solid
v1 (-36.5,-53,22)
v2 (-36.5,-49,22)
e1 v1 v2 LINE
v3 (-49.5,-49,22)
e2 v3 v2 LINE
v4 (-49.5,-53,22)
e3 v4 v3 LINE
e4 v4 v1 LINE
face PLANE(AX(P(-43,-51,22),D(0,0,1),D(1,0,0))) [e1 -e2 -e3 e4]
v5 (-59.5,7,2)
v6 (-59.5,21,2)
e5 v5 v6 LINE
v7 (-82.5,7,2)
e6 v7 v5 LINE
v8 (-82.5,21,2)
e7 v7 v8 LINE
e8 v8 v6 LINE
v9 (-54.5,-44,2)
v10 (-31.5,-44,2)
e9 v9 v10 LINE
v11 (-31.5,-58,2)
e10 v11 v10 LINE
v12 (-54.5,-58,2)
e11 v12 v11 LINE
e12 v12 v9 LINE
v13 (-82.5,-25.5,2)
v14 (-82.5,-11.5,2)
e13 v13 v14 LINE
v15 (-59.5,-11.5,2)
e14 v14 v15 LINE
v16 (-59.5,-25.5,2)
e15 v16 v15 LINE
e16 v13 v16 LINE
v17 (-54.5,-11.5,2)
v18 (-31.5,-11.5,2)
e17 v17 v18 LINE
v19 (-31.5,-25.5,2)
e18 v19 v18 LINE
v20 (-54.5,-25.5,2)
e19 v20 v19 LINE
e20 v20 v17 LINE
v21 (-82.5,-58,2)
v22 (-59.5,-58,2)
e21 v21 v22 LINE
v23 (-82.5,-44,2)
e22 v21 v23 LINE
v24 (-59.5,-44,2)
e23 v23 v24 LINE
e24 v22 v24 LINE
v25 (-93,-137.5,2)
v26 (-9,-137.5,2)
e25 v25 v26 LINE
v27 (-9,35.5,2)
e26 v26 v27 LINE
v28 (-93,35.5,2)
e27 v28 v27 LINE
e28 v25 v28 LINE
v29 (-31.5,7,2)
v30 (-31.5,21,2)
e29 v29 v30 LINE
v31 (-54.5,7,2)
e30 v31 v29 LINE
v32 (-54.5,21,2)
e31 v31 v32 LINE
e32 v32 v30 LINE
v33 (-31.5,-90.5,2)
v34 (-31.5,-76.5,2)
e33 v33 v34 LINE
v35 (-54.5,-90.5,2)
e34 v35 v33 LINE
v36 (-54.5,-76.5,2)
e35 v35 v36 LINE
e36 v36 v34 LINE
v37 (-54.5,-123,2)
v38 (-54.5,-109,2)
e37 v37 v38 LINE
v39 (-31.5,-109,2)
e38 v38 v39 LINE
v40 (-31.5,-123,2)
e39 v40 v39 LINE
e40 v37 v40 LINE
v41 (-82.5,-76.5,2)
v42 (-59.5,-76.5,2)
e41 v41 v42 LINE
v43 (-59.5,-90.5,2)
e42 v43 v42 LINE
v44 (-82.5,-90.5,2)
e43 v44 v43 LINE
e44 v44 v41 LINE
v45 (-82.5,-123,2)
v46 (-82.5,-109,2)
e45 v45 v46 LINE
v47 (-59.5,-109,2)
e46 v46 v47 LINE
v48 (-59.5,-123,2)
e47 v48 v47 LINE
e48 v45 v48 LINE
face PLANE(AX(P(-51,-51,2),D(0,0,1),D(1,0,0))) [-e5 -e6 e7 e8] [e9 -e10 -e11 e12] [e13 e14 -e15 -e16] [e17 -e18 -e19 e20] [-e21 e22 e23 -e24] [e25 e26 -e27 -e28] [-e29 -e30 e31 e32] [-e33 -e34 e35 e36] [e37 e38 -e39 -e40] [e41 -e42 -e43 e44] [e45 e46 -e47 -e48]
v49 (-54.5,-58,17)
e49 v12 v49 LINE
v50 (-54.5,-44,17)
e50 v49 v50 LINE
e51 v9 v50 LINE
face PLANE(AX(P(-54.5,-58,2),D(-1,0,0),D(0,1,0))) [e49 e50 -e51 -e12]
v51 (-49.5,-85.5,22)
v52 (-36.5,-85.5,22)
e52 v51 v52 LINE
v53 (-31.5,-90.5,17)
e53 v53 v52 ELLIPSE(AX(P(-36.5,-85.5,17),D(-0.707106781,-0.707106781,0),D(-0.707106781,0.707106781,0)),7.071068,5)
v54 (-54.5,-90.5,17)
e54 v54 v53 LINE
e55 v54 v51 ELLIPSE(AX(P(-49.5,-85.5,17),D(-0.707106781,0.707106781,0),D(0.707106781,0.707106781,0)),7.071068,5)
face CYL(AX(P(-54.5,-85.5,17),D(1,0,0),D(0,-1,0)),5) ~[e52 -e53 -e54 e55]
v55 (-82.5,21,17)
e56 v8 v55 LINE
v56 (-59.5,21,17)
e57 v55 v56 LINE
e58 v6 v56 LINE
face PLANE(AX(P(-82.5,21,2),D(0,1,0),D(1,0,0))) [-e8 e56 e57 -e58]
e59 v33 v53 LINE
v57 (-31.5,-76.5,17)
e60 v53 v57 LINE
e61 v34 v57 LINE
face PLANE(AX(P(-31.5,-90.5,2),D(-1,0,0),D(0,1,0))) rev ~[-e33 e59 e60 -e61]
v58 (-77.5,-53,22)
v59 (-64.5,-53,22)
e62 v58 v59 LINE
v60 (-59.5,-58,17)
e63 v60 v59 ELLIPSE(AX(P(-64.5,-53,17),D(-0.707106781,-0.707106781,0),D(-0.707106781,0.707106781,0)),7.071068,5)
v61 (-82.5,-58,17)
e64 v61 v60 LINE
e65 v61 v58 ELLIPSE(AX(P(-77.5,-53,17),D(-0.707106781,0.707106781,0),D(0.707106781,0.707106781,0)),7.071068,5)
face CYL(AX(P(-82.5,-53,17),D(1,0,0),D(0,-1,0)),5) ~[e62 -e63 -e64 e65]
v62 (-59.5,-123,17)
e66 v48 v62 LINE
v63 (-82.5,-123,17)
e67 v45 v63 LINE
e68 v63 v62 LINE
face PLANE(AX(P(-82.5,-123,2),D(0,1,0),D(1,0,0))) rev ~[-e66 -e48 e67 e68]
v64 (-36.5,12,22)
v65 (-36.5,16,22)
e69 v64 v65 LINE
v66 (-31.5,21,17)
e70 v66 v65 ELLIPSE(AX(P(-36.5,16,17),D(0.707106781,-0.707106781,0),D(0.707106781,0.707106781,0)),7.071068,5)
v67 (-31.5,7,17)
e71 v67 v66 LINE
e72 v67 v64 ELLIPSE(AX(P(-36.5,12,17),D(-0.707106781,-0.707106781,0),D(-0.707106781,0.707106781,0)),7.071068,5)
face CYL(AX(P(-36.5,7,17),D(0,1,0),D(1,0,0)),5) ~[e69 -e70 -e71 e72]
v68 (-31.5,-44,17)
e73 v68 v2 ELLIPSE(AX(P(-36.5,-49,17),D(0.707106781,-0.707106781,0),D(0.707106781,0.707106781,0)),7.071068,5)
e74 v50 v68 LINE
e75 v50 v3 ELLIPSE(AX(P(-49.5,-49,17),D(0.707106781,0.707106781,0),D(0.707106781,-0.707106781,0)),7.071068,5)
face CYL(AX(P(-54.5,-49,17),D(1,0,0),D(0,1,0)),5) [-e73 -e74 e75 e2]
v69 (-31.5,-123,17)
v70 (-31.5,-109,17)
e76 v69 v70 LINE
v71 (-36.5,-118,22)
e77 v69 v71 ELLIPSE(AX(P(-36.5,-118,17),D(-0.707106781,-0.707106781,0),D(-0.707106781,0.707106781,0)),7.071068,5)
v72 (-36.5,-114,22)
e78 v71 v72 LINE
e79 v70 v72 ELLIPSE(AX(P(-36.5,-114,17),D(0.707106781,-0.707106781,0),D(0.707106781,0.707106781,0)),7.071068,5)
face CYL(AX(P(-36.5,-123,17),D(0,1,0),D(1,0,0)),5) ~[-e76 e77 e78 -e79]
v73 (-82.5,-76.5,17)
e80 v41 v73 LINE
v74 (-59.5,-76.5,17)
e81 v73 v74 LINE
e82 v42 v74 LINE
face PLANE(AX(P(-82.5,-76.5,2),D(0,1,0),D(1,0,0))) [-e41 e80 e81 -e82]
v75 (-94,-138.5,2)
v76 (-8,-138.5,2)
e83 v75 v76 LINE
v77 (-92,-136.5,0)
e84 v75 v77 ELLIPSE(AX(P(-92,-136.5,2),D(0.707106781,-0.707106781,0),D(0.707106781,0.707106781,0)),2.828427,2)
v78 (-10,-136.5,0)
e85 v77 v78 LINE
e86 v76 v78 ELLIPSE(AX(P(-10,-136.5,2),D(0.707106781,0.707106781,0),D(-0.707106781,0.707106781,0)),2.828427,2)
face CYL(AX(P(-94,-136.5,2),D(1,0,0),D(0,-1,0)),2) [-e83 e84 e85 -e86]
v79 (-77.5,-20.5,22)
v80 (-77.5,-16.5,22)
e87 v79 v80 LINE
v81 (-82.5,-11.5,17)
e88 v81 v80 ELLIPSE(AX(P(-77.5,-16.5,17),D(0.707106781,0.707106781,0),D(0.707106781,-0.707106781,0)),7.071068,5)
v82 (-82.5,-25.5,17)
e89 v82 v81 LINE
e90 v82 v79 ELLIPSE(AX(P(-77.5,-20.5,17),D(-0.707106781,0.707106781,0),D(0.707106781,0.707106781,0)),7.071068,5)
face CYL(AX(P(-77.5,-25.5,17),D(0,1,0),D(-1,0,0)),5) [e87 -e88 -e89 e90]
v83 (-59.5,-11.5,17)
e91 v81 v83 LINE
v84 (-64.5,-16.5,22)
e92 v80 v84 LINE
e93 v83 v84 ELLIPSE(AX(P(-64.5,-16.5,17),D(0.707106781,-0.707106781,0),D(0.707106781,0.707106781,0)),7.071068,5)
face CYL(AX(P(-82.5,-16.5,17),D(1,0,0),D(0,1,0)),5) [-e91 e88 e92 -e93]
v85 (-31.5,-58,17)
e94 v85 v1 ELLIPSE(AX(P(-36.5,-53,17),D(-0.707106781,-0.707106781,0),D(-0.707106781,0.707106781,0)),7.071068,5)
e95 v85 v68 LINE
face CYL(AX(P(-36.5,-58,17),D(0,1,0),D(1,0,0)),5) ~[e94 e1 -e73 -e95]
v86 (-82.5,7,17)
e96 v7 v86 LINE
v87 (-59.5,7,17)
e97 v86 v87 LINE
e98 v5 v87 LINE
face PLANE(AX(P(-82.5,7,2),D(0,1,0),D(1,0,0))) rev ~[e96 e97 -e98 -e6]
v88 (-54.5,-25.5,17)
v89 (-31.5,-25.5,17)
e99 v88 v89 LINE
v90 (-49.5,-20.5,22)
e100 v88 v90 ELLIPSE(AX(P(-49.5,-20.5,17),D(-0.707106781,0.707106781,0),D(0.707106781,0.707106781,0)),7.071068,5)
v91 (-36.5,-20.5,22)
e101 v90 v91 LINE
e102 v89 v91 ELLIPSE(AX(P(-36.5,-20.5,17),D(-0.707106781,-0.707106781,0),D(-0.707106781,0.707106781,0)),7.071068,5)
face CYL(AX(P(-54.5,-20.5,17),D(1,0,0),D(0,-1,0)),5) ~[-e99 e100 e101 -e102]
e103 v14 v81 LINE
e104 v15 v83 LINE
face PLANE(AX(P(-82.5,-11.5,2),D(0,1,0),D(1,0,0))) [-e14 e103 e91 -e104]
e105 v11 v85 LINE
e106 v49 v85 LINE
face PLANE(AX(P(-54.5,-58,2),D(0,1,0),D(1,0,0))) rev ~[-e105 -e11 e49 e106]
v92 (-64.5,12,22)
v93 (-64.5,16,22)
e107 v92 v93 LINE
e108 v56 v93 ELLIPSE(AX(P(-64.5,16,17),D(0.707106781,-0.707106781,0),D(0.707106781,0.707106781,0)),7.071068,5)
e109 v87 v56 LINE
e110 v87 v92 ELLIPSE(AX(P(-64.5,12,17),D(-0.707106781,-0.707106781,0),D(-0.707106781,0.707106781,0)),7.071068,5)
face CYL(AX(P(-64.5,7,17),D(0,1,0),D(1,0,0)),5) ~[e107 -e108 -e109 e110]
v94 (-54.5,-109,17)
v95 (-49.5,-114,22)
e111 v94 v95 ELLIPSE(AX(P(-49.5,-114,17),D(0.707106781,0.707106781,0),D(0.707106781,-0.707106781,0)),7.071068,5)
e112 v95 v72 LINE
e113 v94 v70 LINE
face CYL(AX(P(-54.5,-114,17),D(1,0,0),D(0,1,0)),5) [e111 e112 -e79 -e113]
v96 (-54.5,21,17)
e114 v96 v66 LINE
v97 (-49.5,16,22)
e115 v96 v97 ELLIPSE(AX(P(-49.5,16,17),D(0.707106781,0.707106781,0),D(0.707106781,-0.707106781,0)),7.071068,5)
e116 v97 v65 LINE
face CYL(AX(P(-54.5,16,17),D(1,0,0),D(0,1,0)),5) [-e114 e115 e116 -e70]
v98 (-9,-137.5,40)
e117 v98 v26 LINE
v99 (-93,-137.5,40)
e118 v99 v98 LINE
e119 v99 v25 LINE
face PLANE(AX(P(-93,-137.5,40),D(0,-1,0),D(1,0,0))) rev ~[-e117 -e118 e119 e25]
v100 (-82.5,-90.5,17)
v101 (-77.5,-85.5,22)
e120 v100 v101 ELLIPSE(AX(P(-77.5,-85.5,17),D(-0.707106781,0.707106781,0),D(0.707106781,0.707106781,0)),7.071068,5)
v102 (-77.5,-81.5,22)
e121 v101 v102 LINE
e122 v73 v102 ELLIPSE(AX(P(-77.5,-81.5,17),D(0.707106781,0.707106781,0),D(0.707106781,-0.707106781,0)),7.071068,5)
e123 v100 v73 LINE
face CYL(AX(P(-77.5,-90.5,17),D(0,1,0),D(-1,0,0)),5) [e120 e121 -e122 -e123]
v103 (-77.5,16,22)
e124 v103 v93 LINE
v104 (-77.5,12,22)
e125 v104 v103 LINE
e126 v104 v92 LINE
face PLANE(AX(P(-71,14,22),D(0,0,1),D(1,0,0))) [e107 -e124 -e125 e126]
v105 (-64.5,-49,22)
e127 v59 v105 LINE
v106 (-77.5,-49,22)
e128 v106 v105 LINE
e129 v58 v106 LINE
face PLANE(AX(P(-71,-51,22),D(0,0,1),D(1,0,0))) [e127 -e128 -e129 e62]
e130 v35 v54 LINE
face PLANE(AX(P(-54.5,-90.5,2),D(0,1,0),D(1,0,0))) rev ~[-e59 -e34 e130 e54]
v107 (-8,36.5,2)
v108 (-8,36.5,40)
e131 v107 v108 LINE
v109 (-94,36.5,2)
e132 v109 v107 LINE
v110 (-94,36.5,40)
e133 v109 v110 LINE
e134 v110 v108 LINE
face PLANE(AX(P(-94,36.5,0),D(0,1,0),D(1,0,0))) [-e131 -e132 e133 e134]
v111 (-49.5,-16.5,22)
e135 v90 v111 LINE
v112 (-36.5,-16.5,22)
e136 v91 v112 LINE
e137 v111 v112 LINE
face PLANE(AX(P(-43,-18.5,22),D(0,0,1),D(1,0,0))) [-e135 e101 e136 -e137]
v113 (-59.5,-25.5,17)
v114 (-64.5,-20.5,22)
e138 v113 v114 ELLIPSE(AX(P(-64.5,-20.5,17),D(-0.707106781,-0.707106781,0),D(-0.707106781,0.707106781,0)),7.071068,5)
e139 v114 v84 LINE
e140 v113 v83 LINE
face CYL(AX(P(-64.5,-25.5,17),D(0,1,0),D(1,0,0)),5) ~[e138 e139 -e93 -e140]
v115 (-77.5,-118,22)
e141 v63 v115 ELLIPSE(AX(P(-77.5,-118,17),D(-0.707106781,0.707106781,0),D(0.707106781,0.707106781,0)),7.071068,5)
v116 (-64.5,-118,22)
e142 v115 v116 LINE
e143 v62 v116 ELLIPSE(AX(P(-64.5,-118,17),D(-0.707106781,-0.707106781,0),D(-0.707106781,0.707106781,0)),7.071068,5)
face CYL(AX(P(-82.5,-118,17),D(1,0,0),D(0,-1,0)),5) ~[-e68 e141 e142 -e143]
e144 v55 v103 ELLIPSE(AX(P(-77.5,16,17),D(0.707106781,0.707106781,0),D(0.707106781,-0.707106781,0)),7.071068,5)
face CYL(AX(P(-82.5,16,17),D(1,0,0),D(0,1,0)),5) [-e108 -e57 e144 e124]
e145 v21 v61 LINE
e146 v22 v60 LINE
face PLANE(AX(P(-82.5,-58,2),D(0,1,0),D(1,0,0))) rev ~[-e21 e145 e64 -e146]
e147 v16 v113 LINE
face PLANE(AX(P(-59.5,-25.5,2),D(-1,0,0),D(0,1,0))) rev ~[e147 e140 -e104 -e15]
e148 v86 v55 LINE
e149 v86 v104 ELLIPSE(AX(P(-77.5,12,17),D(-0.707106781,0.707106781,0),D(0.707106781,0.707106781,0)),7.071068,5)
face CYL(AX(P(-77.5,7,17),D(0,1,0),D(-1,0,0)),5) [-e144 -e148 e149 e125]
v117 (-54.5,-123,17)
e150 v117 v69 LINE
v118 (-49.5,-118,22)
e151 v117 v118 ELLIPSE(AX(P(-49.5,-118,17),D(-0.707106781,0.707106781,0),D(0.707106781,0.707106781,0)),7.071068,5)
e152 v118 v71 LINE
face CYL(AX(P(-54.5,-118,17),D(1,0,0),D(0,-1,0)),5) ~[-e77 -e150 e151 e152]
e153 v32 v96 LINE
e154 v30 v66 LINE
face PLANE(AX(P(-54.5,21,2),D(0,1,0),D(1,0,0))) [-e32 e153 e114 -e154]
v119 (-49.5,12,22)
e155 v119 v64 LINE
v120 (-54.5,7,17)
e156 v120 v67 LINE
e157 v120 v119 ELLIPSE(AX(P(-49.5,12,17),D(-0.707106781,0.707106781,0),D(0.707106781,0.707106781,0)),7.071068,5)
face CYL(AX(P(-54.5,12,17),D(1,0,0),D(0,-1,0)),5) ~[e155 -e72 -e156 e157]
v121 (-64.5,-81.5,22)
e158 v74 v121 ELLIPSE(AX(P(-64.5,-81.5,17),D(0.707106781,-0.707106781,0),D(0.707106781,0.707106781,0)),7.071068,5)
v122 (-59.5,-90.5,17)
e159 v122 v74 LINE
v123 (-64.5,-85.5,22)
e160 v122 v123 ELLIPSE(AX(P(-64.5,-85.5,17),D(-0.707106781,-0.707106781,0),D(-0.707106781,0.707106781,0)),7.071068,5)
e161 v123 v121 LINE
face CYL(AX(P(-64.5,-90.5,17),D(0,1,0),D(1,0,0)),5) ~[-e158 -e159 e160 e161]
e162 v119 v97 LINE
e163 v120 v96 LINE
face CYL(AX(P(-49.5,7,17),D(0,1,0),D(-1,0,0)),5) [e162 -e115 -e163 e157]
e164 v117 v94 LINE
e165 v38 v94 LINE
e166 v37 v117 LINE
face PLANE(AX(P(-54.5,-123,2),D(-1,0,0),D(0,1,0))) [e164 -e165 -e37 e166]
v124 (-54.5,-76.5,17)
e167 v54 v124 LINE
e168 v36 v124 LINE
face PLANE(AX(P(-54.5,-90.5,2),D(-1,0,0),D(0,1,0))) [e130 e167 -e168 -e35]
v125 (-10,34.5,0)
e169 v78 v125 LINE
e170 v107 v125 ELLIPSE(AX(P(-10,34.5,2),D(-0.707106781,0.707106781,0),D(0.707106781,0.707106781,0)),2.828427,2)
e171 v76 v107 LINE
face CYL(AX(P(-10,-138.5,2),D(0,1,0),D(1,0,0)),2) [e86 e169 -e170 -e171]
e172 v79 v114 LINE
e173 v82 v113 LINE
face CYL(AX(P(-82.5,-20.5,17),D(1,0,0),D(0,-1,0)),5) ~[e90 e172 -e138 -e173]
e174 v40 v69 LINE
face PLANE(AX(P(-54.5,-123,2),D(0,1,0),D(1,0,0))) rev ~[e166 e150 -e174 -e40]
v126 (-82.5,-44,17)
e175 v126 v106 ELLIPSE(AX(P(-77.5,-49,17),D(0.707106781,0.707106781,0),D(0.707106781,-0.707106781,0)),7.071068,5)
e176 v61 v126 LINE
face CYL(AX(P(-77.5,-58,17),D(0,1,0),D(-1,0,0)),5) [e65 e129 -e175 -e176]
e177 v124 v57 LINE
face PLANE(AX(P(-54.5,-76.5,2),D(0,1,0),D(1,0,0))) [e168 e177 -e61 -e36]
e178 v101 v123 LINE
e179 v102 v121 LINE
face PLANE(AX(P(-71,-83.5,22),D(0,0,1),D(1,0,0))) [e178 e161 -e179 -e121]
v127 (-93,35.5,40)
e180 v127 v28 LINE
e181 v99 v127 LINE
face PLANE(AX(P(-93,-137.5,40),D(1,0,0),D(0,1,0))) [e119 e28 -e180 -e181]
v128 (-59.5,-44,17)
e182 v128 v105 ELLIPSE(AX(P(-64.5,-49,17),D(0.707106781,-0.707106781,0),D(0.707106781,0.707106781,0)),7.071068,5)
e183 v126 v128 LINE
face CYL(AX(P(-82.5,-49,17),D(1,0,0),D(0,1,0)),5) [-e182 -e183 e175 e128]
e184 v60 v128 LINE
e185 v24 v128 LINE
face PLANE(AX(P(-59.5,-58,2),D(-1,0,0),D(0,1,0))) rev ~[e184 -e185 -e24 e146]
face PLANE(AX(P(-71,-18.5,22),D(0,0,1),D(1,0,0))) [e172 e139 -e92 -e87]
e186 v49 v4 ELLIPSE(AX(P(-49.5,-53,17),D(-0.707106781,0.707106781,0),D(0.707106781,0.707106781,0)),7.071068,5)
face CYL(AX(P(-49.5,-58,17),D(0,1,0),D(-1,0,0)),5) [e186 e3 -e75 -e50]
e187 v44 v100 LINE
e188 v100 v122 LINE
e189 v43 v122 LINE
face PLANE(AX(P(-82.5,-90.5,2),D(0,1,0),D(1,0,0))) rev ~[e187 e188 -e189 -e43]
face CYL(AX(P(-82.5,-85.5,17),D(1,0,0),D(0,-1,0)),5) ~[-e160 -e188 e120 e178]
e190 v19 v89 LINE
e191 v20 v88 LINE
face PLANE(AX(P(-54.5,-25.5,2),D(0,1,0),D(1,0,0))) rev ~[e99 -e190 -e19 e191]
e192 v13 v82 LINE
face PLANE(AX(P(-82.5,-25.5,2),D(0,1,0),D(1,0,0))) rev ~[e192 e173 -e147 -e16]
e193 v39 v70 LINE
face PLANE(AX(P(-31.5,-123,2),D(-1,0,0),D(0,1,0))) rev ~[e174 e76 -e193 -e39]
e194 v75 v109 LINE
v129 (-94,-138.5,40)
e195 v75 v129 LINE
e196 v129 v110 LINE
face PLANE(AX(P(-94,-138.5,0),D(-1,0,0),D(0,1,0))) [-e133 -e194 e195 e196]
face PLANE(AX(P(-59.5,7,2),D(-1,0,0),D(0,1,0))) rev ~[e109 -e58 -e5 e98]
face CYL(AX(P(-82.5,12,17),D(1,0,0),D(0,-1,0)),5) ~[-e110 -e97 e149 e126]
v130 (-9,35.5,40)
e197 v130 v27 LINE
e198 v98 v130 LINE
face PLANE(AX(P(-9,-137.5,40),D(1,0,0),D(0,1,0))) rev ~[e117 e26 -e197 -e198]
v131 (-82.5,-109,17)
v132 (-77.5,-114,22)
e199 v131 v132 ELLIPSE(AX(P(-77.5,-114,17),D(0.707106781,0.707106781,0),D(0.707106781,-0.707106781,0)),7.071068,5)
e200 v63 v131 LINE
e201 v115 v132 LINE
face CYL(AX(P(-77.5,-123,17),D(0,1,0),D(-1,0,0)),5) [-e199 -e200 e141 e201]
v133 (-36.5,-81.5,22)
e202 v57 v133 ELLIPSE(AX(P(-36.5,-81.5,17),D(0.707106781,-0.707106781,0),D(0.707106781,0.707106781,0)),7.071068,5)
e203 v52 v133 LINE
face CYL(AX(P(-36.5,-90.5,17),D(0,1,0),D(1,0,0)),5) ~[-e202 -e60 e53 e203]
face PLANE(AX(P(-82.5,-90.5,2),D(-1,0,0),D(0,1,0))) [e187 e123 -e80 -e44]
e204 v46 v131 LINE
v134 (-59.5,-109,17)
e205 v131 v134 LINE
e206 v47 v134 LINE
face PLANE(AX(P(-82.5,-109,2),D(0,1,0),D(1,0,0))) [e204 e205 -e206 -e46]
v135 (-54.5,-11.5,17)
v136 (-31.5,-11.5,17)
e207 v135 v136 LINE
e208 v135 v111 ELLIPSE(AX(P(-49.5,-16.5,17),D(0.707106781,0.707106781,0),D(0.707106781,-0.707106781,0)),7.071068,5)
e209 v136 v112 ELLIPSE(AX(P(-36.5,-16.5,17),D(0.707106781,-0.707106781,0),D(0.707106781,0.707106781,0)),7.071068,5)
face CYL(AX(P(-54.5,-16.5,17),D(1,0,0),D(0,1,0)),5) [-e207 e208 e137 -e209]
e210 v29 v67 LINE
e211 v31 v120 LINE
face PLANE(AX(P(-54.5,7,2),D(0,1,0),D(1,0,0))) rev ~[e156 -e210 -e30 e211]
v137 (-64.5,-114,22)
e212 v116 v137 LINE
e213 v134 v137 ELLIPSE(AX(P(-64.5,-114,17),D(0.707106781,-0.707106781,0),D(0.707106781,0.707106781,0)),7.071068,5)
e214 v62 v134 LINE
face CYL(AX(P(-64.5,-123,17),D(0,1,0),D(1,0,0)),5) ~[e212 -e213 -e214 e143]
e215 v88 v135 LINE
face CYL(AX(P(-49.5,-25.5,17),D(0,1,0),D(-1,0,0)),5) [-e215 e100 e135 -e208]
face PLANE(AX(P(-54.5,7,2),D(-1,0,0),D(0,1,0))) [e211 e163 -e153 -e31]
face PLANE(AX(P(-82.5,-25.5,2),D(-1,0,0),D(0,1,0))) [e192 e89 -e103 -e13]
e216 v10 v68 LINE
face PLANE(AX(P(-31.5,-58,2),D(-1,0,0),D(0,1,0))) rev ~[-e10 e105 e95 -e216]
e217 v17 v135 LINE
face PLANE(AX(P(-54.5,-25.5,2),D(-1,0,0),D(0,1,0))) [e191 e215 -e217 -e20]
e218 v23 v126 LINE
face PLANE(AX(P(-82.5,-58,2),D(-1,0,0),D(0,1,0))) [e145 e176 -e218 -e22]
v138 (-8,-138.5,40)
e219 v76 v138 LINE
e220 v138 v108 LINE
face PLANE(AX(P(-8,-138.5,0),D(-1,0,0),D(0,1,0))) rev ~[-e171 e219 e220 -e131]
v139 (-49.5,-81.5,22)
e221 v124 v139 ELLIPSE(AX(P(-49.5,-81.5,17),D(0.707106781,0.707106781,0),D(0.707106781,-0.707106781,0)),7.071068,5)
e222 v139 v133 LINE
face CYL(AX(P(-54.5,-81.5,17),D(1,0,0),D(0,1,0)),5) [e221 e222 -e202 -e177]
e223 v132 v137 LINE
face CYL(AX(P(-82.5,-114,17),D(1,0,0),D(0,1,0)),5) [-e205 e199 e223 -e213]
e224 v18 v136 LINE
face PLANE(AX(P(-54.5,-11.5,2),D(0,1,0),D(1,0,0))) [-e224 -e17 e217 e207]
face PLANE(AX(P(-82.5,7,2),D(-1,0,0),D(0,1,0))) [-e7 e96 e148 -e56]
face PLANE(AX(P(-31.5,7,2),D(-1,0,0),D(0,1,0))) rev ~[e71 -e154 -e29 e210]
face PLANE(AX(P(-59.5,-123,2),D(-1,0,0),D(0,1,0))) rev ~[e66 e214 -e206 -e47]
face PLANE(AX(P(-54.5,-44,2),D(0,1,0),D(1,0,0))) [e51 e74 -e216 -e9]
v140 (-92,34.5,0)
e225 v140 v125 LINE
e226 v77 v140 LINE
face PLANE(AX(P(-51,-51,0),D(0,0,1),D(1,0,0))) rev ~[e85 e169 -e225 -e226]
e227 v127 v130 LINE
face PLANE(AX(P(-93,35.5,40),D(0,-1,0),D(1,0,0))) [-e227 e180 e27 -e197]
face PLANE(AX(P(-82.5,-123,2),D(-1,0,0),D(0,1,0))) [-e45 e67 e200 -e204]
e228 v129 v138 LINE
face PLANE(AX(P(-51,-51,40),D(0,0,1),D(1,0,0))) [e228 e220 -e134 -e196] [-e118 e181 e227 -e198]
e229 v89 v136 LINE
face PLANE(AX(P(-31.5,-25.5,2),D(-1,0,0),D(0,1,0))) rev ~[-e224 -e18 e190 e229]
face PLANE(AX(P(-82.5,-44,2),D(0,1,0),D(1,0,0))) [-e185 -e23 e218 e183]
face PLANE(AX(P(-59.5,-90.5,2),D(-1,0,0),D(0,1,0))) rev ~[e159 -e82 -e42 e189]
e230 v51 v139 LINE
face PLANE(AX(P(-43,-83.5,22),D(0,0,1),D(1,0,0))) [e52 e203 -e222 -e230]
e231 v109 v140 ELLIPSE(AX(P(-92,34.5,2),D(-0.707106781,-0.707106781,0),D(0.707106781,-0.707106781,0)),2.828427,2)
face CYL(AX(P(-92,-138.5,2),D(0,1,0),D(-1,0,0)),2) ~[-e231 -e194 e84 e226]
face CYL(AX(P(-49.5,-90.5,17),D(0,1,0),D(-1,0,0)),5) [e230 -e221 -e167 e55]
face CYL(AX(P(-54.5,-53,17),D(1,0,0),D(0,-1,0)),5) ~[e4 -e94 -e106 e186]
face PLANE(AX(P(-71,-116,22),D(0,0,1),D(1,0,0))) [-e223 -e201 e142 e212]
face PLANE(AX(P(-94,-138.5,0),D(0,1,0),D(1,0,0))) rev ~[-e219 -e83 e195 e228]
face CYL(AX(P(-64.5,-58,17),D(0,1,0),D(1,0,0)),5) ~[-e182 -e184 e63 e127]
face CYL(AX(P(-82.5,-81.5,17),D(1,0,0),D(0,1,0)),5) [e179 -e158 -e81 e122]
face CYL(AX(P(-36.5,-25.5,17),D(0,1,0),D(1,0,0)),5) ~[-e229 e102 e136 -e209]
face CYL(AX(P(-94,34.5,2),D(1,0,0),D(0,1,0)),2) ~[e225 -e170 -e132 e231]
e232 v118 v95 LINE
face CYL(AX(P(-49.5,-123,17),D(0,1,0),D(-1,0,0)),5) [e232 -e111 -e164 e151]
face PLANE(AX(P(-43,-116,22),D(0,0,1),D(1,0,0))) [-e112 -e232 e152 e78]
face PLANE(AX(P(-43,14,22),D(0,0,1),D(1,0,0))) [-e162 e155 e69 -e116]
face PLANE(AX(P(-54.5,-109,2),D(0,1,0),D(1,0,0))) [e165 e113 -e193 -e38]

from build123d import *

# Parameters (mm, degrees)
SKETCH015_W                     = 86
SKETCH015_H                     = 175
PAD007_DEPTH                    = 40
SKETCH016_W                     = 84
SKETCH016_H                     = 173
POCKET007_DEPTH                 = 38
SKETCH017_W                     = 23
SKETCH017_H                     = 14
PAD008_DEPTH                    = 20
SKETCH017_LINEARPATTERN003_2_W  = 23
SKETCH017_LINEARPATTERN003_2_H  = 14
PAD008_LINEARPATTERN003_2_DEPTH = 20
SKETCH017_LINEARPATTERN003_3_W  = 23
SKETCH017_LINEARPATTERN003_3_H  = 14
PAD008_LINEARPATTERN003_3_DEPTH = 20
SKETCH017_LINEARPATTERN003_4_W  = 23
SKETCH017_LINEARPATTERN003_4_H  = 14
PAD008_LINEARPATTERN003_4_DEPTH = 20
SKETCH017_LINEARPATTERN003_5_W  = 23
SKETCH017_LINEARPATTERN003_5_H  = 14
PAD008_LINEARPATTERN003_5_DEPTH = 20
LINEARPATTERN004_COUNT          = 2
LINEARPATTERN004_PITCH          = 28
FILLET008_R                     = 5
FILLET009_R                     = 2


with BuildPart() as part:
    # Sketch015 → Pad007 (new body)
    with BuildSketch(Plane.XY):
        Rectangle(SKETCH015_W, SKETCH015_H)
    extrude(amount=PAD007_DEPTH)

    # Sketch016 (on DatumPlane) → Pocket007 (cut)
    with BuildSketch(Plane.XY.offset(40)):
        Rectangle(SKETCH016_W, SKETCH016_H)
    extrude(amount=-POCKET007_DEPTH, mode=Mode.SUBTRACT)

    # Sketch017 (on DatumPlane) → Pad008 (join)
    with BuildSketch(Plane(origin=(-20, 65, 2), x_dir=(1, 0, 0), z_dir=(0, 0, 1))):
        Rectangle(SKETCH017_W, SKETCH017_H)
    pad008 = extrude(amount=PAD008_DEPTH)

    # Sketch017 LinearPattern003 2 → Pad008 LinearPattern003 2 (add)
    with BuildSketch(Plane(origin=(-20, 32.5, 2), x_dir=(1, 0, 0), z_dir=(0, 0, 1))):
        Rectangle(SKETCH017_LINEARPATTERN003_2_W, SKETCH017_LINEARPATTERN003_2_H)
    pad008_linearpattern003_2 = extrude(amount=PAD008_LINEARPATTERN003_2_DEPTH)

    # Sketch017 LinearPattern003 3 → Pad008 LinearPattern003 3 (add)
    with BuildSketch(Plane(origin=(-20, 0, 2), x_dir=(1, 0, 0), z_dir=(0, 0, 1))):
        Rectangle(SKETCH017_LINEARPATTERN003_3_W, SKETCH017_LINEARPATTERN003_3_H)
    pad008_linearpattern003_3 = extrude(amount=PAD008_LINEARPATTERN003_3_DEPTH)

    # Sketch017 LinearPattern003 4 → Pad008 LinearPattern003 4 (add)
    with BuildSketch(Plane(origin=(-20, -32.5, 2), x_dir=(1, 0, 0), z_dir=(0, 0, 1))):
        Rectangle(SKETCH017_LINEARPATTERN003_4_W, SKETCH017_LINEARPATTERN003_4_H)
    pad008_linearpattern003_4 = extrude(amount=PAD008_LINEARPATTERN003_4_DEPTH)

    # Sketch017 LinearPattern003 5 → Pad008 LinearPattern003 5 (add)
    with BuildSketch(Plane(origin=(-20, -65, 2), x_dir=(1, 0, 0), z_dir=(0, 0, 1))):
        Rectangle(SKETCH017_LINEARPATTERN003_5_W, SKETCH017_LINEARPATTERN003_5_H)
    pad008_linearpattern003_5 = extrude(amount=PAD008_LINEARPATTERN003_5_DEPTH)

    # LinearPattern004: Pad008, Pad008 LinearPattern003 2, Pad008 LinearPattern003 3, Pad008 LinearPattern003 4, Pad008 LinearPattern003 5 ×2
    with Locations(*[(i * LINEARPATTERN004_PITCH, 0, 0) for i in range(1, LINEARPATTERN004_COUNT)]):
        add(pad008)
        add(pad008_linearpattern003_2)
        add(pad008_linearpattern003_3)
        add(pad008_linearpattern003_4)
        add(pad008_linearpattern003_5)

    # Fillet008
    fillet008_edges = [part.edges().sort_by_distance(p)[0] for p in [
        (-20, -25.5, 22),
        (-8.5, -32.5, 22),
        (-20, -39.5, 22),
        (-31.5, -32.5, 22),
        (-20, -58, 22),
        (-8.5, -65, 22),
        (-20, -72, 22),
        (-31.5, -65, 22),
        (8, -58, 22),
        (19.5, -65, 22),
        (8, -72, 22),
        (-3.5, -65, 22),
        (8, -25.5, 22),
        (19.5, -32.5, 22),
        (8, -39.5, 22),
        (-3.5, -32.5, 22),
        (-20, 7, 22),
        (-8.5, 0, 22),
        (-20, -7, 22),
        (-31.5, 0, 22),
        (8, 7, 22),
        (19.5, 0, 22),
        (8, -7, 22),
        (-3.5, 0, 22),
        (8, 39.5, 22),
        (19.5, 32.5, 22),
        (8, 25.5, 22),
        (-3.5, 32.5, 22),
        (-20, 72, 22),
        (-8.5, 65, 22),
        (-20, 58, 22),
        (-31.5, 65, 22),
        (8, 72, 22),
        (19.5, 65, 22),
        (8, 58, 22),
        (-3.5, 65, 22),
        (-20, 39.5, 22),
        (-8.5, 32.5, 22),
        (-20, 25.5, 22),
        (-31.5, 32.5, 22),
    ]]
    fillet(fillet008_edges, radius=FILLET008_R)

    # Fillet009
    fillet009_edges = [part.edges().sort_by_distance(p)[0] for p in [
        (0, 87.5, 0),
        (43, 0, 0),
        (0, -87.5, 0),
        (-43, 0, 0),
    ]]
    fillet(fillet009_edges, radius=FILLET009_R)


with BuildPart() as part_1:
    # Body006 placement: moved
    add(part.part.moved(Location((-51, -51, 0))))


solid = part_1.part
